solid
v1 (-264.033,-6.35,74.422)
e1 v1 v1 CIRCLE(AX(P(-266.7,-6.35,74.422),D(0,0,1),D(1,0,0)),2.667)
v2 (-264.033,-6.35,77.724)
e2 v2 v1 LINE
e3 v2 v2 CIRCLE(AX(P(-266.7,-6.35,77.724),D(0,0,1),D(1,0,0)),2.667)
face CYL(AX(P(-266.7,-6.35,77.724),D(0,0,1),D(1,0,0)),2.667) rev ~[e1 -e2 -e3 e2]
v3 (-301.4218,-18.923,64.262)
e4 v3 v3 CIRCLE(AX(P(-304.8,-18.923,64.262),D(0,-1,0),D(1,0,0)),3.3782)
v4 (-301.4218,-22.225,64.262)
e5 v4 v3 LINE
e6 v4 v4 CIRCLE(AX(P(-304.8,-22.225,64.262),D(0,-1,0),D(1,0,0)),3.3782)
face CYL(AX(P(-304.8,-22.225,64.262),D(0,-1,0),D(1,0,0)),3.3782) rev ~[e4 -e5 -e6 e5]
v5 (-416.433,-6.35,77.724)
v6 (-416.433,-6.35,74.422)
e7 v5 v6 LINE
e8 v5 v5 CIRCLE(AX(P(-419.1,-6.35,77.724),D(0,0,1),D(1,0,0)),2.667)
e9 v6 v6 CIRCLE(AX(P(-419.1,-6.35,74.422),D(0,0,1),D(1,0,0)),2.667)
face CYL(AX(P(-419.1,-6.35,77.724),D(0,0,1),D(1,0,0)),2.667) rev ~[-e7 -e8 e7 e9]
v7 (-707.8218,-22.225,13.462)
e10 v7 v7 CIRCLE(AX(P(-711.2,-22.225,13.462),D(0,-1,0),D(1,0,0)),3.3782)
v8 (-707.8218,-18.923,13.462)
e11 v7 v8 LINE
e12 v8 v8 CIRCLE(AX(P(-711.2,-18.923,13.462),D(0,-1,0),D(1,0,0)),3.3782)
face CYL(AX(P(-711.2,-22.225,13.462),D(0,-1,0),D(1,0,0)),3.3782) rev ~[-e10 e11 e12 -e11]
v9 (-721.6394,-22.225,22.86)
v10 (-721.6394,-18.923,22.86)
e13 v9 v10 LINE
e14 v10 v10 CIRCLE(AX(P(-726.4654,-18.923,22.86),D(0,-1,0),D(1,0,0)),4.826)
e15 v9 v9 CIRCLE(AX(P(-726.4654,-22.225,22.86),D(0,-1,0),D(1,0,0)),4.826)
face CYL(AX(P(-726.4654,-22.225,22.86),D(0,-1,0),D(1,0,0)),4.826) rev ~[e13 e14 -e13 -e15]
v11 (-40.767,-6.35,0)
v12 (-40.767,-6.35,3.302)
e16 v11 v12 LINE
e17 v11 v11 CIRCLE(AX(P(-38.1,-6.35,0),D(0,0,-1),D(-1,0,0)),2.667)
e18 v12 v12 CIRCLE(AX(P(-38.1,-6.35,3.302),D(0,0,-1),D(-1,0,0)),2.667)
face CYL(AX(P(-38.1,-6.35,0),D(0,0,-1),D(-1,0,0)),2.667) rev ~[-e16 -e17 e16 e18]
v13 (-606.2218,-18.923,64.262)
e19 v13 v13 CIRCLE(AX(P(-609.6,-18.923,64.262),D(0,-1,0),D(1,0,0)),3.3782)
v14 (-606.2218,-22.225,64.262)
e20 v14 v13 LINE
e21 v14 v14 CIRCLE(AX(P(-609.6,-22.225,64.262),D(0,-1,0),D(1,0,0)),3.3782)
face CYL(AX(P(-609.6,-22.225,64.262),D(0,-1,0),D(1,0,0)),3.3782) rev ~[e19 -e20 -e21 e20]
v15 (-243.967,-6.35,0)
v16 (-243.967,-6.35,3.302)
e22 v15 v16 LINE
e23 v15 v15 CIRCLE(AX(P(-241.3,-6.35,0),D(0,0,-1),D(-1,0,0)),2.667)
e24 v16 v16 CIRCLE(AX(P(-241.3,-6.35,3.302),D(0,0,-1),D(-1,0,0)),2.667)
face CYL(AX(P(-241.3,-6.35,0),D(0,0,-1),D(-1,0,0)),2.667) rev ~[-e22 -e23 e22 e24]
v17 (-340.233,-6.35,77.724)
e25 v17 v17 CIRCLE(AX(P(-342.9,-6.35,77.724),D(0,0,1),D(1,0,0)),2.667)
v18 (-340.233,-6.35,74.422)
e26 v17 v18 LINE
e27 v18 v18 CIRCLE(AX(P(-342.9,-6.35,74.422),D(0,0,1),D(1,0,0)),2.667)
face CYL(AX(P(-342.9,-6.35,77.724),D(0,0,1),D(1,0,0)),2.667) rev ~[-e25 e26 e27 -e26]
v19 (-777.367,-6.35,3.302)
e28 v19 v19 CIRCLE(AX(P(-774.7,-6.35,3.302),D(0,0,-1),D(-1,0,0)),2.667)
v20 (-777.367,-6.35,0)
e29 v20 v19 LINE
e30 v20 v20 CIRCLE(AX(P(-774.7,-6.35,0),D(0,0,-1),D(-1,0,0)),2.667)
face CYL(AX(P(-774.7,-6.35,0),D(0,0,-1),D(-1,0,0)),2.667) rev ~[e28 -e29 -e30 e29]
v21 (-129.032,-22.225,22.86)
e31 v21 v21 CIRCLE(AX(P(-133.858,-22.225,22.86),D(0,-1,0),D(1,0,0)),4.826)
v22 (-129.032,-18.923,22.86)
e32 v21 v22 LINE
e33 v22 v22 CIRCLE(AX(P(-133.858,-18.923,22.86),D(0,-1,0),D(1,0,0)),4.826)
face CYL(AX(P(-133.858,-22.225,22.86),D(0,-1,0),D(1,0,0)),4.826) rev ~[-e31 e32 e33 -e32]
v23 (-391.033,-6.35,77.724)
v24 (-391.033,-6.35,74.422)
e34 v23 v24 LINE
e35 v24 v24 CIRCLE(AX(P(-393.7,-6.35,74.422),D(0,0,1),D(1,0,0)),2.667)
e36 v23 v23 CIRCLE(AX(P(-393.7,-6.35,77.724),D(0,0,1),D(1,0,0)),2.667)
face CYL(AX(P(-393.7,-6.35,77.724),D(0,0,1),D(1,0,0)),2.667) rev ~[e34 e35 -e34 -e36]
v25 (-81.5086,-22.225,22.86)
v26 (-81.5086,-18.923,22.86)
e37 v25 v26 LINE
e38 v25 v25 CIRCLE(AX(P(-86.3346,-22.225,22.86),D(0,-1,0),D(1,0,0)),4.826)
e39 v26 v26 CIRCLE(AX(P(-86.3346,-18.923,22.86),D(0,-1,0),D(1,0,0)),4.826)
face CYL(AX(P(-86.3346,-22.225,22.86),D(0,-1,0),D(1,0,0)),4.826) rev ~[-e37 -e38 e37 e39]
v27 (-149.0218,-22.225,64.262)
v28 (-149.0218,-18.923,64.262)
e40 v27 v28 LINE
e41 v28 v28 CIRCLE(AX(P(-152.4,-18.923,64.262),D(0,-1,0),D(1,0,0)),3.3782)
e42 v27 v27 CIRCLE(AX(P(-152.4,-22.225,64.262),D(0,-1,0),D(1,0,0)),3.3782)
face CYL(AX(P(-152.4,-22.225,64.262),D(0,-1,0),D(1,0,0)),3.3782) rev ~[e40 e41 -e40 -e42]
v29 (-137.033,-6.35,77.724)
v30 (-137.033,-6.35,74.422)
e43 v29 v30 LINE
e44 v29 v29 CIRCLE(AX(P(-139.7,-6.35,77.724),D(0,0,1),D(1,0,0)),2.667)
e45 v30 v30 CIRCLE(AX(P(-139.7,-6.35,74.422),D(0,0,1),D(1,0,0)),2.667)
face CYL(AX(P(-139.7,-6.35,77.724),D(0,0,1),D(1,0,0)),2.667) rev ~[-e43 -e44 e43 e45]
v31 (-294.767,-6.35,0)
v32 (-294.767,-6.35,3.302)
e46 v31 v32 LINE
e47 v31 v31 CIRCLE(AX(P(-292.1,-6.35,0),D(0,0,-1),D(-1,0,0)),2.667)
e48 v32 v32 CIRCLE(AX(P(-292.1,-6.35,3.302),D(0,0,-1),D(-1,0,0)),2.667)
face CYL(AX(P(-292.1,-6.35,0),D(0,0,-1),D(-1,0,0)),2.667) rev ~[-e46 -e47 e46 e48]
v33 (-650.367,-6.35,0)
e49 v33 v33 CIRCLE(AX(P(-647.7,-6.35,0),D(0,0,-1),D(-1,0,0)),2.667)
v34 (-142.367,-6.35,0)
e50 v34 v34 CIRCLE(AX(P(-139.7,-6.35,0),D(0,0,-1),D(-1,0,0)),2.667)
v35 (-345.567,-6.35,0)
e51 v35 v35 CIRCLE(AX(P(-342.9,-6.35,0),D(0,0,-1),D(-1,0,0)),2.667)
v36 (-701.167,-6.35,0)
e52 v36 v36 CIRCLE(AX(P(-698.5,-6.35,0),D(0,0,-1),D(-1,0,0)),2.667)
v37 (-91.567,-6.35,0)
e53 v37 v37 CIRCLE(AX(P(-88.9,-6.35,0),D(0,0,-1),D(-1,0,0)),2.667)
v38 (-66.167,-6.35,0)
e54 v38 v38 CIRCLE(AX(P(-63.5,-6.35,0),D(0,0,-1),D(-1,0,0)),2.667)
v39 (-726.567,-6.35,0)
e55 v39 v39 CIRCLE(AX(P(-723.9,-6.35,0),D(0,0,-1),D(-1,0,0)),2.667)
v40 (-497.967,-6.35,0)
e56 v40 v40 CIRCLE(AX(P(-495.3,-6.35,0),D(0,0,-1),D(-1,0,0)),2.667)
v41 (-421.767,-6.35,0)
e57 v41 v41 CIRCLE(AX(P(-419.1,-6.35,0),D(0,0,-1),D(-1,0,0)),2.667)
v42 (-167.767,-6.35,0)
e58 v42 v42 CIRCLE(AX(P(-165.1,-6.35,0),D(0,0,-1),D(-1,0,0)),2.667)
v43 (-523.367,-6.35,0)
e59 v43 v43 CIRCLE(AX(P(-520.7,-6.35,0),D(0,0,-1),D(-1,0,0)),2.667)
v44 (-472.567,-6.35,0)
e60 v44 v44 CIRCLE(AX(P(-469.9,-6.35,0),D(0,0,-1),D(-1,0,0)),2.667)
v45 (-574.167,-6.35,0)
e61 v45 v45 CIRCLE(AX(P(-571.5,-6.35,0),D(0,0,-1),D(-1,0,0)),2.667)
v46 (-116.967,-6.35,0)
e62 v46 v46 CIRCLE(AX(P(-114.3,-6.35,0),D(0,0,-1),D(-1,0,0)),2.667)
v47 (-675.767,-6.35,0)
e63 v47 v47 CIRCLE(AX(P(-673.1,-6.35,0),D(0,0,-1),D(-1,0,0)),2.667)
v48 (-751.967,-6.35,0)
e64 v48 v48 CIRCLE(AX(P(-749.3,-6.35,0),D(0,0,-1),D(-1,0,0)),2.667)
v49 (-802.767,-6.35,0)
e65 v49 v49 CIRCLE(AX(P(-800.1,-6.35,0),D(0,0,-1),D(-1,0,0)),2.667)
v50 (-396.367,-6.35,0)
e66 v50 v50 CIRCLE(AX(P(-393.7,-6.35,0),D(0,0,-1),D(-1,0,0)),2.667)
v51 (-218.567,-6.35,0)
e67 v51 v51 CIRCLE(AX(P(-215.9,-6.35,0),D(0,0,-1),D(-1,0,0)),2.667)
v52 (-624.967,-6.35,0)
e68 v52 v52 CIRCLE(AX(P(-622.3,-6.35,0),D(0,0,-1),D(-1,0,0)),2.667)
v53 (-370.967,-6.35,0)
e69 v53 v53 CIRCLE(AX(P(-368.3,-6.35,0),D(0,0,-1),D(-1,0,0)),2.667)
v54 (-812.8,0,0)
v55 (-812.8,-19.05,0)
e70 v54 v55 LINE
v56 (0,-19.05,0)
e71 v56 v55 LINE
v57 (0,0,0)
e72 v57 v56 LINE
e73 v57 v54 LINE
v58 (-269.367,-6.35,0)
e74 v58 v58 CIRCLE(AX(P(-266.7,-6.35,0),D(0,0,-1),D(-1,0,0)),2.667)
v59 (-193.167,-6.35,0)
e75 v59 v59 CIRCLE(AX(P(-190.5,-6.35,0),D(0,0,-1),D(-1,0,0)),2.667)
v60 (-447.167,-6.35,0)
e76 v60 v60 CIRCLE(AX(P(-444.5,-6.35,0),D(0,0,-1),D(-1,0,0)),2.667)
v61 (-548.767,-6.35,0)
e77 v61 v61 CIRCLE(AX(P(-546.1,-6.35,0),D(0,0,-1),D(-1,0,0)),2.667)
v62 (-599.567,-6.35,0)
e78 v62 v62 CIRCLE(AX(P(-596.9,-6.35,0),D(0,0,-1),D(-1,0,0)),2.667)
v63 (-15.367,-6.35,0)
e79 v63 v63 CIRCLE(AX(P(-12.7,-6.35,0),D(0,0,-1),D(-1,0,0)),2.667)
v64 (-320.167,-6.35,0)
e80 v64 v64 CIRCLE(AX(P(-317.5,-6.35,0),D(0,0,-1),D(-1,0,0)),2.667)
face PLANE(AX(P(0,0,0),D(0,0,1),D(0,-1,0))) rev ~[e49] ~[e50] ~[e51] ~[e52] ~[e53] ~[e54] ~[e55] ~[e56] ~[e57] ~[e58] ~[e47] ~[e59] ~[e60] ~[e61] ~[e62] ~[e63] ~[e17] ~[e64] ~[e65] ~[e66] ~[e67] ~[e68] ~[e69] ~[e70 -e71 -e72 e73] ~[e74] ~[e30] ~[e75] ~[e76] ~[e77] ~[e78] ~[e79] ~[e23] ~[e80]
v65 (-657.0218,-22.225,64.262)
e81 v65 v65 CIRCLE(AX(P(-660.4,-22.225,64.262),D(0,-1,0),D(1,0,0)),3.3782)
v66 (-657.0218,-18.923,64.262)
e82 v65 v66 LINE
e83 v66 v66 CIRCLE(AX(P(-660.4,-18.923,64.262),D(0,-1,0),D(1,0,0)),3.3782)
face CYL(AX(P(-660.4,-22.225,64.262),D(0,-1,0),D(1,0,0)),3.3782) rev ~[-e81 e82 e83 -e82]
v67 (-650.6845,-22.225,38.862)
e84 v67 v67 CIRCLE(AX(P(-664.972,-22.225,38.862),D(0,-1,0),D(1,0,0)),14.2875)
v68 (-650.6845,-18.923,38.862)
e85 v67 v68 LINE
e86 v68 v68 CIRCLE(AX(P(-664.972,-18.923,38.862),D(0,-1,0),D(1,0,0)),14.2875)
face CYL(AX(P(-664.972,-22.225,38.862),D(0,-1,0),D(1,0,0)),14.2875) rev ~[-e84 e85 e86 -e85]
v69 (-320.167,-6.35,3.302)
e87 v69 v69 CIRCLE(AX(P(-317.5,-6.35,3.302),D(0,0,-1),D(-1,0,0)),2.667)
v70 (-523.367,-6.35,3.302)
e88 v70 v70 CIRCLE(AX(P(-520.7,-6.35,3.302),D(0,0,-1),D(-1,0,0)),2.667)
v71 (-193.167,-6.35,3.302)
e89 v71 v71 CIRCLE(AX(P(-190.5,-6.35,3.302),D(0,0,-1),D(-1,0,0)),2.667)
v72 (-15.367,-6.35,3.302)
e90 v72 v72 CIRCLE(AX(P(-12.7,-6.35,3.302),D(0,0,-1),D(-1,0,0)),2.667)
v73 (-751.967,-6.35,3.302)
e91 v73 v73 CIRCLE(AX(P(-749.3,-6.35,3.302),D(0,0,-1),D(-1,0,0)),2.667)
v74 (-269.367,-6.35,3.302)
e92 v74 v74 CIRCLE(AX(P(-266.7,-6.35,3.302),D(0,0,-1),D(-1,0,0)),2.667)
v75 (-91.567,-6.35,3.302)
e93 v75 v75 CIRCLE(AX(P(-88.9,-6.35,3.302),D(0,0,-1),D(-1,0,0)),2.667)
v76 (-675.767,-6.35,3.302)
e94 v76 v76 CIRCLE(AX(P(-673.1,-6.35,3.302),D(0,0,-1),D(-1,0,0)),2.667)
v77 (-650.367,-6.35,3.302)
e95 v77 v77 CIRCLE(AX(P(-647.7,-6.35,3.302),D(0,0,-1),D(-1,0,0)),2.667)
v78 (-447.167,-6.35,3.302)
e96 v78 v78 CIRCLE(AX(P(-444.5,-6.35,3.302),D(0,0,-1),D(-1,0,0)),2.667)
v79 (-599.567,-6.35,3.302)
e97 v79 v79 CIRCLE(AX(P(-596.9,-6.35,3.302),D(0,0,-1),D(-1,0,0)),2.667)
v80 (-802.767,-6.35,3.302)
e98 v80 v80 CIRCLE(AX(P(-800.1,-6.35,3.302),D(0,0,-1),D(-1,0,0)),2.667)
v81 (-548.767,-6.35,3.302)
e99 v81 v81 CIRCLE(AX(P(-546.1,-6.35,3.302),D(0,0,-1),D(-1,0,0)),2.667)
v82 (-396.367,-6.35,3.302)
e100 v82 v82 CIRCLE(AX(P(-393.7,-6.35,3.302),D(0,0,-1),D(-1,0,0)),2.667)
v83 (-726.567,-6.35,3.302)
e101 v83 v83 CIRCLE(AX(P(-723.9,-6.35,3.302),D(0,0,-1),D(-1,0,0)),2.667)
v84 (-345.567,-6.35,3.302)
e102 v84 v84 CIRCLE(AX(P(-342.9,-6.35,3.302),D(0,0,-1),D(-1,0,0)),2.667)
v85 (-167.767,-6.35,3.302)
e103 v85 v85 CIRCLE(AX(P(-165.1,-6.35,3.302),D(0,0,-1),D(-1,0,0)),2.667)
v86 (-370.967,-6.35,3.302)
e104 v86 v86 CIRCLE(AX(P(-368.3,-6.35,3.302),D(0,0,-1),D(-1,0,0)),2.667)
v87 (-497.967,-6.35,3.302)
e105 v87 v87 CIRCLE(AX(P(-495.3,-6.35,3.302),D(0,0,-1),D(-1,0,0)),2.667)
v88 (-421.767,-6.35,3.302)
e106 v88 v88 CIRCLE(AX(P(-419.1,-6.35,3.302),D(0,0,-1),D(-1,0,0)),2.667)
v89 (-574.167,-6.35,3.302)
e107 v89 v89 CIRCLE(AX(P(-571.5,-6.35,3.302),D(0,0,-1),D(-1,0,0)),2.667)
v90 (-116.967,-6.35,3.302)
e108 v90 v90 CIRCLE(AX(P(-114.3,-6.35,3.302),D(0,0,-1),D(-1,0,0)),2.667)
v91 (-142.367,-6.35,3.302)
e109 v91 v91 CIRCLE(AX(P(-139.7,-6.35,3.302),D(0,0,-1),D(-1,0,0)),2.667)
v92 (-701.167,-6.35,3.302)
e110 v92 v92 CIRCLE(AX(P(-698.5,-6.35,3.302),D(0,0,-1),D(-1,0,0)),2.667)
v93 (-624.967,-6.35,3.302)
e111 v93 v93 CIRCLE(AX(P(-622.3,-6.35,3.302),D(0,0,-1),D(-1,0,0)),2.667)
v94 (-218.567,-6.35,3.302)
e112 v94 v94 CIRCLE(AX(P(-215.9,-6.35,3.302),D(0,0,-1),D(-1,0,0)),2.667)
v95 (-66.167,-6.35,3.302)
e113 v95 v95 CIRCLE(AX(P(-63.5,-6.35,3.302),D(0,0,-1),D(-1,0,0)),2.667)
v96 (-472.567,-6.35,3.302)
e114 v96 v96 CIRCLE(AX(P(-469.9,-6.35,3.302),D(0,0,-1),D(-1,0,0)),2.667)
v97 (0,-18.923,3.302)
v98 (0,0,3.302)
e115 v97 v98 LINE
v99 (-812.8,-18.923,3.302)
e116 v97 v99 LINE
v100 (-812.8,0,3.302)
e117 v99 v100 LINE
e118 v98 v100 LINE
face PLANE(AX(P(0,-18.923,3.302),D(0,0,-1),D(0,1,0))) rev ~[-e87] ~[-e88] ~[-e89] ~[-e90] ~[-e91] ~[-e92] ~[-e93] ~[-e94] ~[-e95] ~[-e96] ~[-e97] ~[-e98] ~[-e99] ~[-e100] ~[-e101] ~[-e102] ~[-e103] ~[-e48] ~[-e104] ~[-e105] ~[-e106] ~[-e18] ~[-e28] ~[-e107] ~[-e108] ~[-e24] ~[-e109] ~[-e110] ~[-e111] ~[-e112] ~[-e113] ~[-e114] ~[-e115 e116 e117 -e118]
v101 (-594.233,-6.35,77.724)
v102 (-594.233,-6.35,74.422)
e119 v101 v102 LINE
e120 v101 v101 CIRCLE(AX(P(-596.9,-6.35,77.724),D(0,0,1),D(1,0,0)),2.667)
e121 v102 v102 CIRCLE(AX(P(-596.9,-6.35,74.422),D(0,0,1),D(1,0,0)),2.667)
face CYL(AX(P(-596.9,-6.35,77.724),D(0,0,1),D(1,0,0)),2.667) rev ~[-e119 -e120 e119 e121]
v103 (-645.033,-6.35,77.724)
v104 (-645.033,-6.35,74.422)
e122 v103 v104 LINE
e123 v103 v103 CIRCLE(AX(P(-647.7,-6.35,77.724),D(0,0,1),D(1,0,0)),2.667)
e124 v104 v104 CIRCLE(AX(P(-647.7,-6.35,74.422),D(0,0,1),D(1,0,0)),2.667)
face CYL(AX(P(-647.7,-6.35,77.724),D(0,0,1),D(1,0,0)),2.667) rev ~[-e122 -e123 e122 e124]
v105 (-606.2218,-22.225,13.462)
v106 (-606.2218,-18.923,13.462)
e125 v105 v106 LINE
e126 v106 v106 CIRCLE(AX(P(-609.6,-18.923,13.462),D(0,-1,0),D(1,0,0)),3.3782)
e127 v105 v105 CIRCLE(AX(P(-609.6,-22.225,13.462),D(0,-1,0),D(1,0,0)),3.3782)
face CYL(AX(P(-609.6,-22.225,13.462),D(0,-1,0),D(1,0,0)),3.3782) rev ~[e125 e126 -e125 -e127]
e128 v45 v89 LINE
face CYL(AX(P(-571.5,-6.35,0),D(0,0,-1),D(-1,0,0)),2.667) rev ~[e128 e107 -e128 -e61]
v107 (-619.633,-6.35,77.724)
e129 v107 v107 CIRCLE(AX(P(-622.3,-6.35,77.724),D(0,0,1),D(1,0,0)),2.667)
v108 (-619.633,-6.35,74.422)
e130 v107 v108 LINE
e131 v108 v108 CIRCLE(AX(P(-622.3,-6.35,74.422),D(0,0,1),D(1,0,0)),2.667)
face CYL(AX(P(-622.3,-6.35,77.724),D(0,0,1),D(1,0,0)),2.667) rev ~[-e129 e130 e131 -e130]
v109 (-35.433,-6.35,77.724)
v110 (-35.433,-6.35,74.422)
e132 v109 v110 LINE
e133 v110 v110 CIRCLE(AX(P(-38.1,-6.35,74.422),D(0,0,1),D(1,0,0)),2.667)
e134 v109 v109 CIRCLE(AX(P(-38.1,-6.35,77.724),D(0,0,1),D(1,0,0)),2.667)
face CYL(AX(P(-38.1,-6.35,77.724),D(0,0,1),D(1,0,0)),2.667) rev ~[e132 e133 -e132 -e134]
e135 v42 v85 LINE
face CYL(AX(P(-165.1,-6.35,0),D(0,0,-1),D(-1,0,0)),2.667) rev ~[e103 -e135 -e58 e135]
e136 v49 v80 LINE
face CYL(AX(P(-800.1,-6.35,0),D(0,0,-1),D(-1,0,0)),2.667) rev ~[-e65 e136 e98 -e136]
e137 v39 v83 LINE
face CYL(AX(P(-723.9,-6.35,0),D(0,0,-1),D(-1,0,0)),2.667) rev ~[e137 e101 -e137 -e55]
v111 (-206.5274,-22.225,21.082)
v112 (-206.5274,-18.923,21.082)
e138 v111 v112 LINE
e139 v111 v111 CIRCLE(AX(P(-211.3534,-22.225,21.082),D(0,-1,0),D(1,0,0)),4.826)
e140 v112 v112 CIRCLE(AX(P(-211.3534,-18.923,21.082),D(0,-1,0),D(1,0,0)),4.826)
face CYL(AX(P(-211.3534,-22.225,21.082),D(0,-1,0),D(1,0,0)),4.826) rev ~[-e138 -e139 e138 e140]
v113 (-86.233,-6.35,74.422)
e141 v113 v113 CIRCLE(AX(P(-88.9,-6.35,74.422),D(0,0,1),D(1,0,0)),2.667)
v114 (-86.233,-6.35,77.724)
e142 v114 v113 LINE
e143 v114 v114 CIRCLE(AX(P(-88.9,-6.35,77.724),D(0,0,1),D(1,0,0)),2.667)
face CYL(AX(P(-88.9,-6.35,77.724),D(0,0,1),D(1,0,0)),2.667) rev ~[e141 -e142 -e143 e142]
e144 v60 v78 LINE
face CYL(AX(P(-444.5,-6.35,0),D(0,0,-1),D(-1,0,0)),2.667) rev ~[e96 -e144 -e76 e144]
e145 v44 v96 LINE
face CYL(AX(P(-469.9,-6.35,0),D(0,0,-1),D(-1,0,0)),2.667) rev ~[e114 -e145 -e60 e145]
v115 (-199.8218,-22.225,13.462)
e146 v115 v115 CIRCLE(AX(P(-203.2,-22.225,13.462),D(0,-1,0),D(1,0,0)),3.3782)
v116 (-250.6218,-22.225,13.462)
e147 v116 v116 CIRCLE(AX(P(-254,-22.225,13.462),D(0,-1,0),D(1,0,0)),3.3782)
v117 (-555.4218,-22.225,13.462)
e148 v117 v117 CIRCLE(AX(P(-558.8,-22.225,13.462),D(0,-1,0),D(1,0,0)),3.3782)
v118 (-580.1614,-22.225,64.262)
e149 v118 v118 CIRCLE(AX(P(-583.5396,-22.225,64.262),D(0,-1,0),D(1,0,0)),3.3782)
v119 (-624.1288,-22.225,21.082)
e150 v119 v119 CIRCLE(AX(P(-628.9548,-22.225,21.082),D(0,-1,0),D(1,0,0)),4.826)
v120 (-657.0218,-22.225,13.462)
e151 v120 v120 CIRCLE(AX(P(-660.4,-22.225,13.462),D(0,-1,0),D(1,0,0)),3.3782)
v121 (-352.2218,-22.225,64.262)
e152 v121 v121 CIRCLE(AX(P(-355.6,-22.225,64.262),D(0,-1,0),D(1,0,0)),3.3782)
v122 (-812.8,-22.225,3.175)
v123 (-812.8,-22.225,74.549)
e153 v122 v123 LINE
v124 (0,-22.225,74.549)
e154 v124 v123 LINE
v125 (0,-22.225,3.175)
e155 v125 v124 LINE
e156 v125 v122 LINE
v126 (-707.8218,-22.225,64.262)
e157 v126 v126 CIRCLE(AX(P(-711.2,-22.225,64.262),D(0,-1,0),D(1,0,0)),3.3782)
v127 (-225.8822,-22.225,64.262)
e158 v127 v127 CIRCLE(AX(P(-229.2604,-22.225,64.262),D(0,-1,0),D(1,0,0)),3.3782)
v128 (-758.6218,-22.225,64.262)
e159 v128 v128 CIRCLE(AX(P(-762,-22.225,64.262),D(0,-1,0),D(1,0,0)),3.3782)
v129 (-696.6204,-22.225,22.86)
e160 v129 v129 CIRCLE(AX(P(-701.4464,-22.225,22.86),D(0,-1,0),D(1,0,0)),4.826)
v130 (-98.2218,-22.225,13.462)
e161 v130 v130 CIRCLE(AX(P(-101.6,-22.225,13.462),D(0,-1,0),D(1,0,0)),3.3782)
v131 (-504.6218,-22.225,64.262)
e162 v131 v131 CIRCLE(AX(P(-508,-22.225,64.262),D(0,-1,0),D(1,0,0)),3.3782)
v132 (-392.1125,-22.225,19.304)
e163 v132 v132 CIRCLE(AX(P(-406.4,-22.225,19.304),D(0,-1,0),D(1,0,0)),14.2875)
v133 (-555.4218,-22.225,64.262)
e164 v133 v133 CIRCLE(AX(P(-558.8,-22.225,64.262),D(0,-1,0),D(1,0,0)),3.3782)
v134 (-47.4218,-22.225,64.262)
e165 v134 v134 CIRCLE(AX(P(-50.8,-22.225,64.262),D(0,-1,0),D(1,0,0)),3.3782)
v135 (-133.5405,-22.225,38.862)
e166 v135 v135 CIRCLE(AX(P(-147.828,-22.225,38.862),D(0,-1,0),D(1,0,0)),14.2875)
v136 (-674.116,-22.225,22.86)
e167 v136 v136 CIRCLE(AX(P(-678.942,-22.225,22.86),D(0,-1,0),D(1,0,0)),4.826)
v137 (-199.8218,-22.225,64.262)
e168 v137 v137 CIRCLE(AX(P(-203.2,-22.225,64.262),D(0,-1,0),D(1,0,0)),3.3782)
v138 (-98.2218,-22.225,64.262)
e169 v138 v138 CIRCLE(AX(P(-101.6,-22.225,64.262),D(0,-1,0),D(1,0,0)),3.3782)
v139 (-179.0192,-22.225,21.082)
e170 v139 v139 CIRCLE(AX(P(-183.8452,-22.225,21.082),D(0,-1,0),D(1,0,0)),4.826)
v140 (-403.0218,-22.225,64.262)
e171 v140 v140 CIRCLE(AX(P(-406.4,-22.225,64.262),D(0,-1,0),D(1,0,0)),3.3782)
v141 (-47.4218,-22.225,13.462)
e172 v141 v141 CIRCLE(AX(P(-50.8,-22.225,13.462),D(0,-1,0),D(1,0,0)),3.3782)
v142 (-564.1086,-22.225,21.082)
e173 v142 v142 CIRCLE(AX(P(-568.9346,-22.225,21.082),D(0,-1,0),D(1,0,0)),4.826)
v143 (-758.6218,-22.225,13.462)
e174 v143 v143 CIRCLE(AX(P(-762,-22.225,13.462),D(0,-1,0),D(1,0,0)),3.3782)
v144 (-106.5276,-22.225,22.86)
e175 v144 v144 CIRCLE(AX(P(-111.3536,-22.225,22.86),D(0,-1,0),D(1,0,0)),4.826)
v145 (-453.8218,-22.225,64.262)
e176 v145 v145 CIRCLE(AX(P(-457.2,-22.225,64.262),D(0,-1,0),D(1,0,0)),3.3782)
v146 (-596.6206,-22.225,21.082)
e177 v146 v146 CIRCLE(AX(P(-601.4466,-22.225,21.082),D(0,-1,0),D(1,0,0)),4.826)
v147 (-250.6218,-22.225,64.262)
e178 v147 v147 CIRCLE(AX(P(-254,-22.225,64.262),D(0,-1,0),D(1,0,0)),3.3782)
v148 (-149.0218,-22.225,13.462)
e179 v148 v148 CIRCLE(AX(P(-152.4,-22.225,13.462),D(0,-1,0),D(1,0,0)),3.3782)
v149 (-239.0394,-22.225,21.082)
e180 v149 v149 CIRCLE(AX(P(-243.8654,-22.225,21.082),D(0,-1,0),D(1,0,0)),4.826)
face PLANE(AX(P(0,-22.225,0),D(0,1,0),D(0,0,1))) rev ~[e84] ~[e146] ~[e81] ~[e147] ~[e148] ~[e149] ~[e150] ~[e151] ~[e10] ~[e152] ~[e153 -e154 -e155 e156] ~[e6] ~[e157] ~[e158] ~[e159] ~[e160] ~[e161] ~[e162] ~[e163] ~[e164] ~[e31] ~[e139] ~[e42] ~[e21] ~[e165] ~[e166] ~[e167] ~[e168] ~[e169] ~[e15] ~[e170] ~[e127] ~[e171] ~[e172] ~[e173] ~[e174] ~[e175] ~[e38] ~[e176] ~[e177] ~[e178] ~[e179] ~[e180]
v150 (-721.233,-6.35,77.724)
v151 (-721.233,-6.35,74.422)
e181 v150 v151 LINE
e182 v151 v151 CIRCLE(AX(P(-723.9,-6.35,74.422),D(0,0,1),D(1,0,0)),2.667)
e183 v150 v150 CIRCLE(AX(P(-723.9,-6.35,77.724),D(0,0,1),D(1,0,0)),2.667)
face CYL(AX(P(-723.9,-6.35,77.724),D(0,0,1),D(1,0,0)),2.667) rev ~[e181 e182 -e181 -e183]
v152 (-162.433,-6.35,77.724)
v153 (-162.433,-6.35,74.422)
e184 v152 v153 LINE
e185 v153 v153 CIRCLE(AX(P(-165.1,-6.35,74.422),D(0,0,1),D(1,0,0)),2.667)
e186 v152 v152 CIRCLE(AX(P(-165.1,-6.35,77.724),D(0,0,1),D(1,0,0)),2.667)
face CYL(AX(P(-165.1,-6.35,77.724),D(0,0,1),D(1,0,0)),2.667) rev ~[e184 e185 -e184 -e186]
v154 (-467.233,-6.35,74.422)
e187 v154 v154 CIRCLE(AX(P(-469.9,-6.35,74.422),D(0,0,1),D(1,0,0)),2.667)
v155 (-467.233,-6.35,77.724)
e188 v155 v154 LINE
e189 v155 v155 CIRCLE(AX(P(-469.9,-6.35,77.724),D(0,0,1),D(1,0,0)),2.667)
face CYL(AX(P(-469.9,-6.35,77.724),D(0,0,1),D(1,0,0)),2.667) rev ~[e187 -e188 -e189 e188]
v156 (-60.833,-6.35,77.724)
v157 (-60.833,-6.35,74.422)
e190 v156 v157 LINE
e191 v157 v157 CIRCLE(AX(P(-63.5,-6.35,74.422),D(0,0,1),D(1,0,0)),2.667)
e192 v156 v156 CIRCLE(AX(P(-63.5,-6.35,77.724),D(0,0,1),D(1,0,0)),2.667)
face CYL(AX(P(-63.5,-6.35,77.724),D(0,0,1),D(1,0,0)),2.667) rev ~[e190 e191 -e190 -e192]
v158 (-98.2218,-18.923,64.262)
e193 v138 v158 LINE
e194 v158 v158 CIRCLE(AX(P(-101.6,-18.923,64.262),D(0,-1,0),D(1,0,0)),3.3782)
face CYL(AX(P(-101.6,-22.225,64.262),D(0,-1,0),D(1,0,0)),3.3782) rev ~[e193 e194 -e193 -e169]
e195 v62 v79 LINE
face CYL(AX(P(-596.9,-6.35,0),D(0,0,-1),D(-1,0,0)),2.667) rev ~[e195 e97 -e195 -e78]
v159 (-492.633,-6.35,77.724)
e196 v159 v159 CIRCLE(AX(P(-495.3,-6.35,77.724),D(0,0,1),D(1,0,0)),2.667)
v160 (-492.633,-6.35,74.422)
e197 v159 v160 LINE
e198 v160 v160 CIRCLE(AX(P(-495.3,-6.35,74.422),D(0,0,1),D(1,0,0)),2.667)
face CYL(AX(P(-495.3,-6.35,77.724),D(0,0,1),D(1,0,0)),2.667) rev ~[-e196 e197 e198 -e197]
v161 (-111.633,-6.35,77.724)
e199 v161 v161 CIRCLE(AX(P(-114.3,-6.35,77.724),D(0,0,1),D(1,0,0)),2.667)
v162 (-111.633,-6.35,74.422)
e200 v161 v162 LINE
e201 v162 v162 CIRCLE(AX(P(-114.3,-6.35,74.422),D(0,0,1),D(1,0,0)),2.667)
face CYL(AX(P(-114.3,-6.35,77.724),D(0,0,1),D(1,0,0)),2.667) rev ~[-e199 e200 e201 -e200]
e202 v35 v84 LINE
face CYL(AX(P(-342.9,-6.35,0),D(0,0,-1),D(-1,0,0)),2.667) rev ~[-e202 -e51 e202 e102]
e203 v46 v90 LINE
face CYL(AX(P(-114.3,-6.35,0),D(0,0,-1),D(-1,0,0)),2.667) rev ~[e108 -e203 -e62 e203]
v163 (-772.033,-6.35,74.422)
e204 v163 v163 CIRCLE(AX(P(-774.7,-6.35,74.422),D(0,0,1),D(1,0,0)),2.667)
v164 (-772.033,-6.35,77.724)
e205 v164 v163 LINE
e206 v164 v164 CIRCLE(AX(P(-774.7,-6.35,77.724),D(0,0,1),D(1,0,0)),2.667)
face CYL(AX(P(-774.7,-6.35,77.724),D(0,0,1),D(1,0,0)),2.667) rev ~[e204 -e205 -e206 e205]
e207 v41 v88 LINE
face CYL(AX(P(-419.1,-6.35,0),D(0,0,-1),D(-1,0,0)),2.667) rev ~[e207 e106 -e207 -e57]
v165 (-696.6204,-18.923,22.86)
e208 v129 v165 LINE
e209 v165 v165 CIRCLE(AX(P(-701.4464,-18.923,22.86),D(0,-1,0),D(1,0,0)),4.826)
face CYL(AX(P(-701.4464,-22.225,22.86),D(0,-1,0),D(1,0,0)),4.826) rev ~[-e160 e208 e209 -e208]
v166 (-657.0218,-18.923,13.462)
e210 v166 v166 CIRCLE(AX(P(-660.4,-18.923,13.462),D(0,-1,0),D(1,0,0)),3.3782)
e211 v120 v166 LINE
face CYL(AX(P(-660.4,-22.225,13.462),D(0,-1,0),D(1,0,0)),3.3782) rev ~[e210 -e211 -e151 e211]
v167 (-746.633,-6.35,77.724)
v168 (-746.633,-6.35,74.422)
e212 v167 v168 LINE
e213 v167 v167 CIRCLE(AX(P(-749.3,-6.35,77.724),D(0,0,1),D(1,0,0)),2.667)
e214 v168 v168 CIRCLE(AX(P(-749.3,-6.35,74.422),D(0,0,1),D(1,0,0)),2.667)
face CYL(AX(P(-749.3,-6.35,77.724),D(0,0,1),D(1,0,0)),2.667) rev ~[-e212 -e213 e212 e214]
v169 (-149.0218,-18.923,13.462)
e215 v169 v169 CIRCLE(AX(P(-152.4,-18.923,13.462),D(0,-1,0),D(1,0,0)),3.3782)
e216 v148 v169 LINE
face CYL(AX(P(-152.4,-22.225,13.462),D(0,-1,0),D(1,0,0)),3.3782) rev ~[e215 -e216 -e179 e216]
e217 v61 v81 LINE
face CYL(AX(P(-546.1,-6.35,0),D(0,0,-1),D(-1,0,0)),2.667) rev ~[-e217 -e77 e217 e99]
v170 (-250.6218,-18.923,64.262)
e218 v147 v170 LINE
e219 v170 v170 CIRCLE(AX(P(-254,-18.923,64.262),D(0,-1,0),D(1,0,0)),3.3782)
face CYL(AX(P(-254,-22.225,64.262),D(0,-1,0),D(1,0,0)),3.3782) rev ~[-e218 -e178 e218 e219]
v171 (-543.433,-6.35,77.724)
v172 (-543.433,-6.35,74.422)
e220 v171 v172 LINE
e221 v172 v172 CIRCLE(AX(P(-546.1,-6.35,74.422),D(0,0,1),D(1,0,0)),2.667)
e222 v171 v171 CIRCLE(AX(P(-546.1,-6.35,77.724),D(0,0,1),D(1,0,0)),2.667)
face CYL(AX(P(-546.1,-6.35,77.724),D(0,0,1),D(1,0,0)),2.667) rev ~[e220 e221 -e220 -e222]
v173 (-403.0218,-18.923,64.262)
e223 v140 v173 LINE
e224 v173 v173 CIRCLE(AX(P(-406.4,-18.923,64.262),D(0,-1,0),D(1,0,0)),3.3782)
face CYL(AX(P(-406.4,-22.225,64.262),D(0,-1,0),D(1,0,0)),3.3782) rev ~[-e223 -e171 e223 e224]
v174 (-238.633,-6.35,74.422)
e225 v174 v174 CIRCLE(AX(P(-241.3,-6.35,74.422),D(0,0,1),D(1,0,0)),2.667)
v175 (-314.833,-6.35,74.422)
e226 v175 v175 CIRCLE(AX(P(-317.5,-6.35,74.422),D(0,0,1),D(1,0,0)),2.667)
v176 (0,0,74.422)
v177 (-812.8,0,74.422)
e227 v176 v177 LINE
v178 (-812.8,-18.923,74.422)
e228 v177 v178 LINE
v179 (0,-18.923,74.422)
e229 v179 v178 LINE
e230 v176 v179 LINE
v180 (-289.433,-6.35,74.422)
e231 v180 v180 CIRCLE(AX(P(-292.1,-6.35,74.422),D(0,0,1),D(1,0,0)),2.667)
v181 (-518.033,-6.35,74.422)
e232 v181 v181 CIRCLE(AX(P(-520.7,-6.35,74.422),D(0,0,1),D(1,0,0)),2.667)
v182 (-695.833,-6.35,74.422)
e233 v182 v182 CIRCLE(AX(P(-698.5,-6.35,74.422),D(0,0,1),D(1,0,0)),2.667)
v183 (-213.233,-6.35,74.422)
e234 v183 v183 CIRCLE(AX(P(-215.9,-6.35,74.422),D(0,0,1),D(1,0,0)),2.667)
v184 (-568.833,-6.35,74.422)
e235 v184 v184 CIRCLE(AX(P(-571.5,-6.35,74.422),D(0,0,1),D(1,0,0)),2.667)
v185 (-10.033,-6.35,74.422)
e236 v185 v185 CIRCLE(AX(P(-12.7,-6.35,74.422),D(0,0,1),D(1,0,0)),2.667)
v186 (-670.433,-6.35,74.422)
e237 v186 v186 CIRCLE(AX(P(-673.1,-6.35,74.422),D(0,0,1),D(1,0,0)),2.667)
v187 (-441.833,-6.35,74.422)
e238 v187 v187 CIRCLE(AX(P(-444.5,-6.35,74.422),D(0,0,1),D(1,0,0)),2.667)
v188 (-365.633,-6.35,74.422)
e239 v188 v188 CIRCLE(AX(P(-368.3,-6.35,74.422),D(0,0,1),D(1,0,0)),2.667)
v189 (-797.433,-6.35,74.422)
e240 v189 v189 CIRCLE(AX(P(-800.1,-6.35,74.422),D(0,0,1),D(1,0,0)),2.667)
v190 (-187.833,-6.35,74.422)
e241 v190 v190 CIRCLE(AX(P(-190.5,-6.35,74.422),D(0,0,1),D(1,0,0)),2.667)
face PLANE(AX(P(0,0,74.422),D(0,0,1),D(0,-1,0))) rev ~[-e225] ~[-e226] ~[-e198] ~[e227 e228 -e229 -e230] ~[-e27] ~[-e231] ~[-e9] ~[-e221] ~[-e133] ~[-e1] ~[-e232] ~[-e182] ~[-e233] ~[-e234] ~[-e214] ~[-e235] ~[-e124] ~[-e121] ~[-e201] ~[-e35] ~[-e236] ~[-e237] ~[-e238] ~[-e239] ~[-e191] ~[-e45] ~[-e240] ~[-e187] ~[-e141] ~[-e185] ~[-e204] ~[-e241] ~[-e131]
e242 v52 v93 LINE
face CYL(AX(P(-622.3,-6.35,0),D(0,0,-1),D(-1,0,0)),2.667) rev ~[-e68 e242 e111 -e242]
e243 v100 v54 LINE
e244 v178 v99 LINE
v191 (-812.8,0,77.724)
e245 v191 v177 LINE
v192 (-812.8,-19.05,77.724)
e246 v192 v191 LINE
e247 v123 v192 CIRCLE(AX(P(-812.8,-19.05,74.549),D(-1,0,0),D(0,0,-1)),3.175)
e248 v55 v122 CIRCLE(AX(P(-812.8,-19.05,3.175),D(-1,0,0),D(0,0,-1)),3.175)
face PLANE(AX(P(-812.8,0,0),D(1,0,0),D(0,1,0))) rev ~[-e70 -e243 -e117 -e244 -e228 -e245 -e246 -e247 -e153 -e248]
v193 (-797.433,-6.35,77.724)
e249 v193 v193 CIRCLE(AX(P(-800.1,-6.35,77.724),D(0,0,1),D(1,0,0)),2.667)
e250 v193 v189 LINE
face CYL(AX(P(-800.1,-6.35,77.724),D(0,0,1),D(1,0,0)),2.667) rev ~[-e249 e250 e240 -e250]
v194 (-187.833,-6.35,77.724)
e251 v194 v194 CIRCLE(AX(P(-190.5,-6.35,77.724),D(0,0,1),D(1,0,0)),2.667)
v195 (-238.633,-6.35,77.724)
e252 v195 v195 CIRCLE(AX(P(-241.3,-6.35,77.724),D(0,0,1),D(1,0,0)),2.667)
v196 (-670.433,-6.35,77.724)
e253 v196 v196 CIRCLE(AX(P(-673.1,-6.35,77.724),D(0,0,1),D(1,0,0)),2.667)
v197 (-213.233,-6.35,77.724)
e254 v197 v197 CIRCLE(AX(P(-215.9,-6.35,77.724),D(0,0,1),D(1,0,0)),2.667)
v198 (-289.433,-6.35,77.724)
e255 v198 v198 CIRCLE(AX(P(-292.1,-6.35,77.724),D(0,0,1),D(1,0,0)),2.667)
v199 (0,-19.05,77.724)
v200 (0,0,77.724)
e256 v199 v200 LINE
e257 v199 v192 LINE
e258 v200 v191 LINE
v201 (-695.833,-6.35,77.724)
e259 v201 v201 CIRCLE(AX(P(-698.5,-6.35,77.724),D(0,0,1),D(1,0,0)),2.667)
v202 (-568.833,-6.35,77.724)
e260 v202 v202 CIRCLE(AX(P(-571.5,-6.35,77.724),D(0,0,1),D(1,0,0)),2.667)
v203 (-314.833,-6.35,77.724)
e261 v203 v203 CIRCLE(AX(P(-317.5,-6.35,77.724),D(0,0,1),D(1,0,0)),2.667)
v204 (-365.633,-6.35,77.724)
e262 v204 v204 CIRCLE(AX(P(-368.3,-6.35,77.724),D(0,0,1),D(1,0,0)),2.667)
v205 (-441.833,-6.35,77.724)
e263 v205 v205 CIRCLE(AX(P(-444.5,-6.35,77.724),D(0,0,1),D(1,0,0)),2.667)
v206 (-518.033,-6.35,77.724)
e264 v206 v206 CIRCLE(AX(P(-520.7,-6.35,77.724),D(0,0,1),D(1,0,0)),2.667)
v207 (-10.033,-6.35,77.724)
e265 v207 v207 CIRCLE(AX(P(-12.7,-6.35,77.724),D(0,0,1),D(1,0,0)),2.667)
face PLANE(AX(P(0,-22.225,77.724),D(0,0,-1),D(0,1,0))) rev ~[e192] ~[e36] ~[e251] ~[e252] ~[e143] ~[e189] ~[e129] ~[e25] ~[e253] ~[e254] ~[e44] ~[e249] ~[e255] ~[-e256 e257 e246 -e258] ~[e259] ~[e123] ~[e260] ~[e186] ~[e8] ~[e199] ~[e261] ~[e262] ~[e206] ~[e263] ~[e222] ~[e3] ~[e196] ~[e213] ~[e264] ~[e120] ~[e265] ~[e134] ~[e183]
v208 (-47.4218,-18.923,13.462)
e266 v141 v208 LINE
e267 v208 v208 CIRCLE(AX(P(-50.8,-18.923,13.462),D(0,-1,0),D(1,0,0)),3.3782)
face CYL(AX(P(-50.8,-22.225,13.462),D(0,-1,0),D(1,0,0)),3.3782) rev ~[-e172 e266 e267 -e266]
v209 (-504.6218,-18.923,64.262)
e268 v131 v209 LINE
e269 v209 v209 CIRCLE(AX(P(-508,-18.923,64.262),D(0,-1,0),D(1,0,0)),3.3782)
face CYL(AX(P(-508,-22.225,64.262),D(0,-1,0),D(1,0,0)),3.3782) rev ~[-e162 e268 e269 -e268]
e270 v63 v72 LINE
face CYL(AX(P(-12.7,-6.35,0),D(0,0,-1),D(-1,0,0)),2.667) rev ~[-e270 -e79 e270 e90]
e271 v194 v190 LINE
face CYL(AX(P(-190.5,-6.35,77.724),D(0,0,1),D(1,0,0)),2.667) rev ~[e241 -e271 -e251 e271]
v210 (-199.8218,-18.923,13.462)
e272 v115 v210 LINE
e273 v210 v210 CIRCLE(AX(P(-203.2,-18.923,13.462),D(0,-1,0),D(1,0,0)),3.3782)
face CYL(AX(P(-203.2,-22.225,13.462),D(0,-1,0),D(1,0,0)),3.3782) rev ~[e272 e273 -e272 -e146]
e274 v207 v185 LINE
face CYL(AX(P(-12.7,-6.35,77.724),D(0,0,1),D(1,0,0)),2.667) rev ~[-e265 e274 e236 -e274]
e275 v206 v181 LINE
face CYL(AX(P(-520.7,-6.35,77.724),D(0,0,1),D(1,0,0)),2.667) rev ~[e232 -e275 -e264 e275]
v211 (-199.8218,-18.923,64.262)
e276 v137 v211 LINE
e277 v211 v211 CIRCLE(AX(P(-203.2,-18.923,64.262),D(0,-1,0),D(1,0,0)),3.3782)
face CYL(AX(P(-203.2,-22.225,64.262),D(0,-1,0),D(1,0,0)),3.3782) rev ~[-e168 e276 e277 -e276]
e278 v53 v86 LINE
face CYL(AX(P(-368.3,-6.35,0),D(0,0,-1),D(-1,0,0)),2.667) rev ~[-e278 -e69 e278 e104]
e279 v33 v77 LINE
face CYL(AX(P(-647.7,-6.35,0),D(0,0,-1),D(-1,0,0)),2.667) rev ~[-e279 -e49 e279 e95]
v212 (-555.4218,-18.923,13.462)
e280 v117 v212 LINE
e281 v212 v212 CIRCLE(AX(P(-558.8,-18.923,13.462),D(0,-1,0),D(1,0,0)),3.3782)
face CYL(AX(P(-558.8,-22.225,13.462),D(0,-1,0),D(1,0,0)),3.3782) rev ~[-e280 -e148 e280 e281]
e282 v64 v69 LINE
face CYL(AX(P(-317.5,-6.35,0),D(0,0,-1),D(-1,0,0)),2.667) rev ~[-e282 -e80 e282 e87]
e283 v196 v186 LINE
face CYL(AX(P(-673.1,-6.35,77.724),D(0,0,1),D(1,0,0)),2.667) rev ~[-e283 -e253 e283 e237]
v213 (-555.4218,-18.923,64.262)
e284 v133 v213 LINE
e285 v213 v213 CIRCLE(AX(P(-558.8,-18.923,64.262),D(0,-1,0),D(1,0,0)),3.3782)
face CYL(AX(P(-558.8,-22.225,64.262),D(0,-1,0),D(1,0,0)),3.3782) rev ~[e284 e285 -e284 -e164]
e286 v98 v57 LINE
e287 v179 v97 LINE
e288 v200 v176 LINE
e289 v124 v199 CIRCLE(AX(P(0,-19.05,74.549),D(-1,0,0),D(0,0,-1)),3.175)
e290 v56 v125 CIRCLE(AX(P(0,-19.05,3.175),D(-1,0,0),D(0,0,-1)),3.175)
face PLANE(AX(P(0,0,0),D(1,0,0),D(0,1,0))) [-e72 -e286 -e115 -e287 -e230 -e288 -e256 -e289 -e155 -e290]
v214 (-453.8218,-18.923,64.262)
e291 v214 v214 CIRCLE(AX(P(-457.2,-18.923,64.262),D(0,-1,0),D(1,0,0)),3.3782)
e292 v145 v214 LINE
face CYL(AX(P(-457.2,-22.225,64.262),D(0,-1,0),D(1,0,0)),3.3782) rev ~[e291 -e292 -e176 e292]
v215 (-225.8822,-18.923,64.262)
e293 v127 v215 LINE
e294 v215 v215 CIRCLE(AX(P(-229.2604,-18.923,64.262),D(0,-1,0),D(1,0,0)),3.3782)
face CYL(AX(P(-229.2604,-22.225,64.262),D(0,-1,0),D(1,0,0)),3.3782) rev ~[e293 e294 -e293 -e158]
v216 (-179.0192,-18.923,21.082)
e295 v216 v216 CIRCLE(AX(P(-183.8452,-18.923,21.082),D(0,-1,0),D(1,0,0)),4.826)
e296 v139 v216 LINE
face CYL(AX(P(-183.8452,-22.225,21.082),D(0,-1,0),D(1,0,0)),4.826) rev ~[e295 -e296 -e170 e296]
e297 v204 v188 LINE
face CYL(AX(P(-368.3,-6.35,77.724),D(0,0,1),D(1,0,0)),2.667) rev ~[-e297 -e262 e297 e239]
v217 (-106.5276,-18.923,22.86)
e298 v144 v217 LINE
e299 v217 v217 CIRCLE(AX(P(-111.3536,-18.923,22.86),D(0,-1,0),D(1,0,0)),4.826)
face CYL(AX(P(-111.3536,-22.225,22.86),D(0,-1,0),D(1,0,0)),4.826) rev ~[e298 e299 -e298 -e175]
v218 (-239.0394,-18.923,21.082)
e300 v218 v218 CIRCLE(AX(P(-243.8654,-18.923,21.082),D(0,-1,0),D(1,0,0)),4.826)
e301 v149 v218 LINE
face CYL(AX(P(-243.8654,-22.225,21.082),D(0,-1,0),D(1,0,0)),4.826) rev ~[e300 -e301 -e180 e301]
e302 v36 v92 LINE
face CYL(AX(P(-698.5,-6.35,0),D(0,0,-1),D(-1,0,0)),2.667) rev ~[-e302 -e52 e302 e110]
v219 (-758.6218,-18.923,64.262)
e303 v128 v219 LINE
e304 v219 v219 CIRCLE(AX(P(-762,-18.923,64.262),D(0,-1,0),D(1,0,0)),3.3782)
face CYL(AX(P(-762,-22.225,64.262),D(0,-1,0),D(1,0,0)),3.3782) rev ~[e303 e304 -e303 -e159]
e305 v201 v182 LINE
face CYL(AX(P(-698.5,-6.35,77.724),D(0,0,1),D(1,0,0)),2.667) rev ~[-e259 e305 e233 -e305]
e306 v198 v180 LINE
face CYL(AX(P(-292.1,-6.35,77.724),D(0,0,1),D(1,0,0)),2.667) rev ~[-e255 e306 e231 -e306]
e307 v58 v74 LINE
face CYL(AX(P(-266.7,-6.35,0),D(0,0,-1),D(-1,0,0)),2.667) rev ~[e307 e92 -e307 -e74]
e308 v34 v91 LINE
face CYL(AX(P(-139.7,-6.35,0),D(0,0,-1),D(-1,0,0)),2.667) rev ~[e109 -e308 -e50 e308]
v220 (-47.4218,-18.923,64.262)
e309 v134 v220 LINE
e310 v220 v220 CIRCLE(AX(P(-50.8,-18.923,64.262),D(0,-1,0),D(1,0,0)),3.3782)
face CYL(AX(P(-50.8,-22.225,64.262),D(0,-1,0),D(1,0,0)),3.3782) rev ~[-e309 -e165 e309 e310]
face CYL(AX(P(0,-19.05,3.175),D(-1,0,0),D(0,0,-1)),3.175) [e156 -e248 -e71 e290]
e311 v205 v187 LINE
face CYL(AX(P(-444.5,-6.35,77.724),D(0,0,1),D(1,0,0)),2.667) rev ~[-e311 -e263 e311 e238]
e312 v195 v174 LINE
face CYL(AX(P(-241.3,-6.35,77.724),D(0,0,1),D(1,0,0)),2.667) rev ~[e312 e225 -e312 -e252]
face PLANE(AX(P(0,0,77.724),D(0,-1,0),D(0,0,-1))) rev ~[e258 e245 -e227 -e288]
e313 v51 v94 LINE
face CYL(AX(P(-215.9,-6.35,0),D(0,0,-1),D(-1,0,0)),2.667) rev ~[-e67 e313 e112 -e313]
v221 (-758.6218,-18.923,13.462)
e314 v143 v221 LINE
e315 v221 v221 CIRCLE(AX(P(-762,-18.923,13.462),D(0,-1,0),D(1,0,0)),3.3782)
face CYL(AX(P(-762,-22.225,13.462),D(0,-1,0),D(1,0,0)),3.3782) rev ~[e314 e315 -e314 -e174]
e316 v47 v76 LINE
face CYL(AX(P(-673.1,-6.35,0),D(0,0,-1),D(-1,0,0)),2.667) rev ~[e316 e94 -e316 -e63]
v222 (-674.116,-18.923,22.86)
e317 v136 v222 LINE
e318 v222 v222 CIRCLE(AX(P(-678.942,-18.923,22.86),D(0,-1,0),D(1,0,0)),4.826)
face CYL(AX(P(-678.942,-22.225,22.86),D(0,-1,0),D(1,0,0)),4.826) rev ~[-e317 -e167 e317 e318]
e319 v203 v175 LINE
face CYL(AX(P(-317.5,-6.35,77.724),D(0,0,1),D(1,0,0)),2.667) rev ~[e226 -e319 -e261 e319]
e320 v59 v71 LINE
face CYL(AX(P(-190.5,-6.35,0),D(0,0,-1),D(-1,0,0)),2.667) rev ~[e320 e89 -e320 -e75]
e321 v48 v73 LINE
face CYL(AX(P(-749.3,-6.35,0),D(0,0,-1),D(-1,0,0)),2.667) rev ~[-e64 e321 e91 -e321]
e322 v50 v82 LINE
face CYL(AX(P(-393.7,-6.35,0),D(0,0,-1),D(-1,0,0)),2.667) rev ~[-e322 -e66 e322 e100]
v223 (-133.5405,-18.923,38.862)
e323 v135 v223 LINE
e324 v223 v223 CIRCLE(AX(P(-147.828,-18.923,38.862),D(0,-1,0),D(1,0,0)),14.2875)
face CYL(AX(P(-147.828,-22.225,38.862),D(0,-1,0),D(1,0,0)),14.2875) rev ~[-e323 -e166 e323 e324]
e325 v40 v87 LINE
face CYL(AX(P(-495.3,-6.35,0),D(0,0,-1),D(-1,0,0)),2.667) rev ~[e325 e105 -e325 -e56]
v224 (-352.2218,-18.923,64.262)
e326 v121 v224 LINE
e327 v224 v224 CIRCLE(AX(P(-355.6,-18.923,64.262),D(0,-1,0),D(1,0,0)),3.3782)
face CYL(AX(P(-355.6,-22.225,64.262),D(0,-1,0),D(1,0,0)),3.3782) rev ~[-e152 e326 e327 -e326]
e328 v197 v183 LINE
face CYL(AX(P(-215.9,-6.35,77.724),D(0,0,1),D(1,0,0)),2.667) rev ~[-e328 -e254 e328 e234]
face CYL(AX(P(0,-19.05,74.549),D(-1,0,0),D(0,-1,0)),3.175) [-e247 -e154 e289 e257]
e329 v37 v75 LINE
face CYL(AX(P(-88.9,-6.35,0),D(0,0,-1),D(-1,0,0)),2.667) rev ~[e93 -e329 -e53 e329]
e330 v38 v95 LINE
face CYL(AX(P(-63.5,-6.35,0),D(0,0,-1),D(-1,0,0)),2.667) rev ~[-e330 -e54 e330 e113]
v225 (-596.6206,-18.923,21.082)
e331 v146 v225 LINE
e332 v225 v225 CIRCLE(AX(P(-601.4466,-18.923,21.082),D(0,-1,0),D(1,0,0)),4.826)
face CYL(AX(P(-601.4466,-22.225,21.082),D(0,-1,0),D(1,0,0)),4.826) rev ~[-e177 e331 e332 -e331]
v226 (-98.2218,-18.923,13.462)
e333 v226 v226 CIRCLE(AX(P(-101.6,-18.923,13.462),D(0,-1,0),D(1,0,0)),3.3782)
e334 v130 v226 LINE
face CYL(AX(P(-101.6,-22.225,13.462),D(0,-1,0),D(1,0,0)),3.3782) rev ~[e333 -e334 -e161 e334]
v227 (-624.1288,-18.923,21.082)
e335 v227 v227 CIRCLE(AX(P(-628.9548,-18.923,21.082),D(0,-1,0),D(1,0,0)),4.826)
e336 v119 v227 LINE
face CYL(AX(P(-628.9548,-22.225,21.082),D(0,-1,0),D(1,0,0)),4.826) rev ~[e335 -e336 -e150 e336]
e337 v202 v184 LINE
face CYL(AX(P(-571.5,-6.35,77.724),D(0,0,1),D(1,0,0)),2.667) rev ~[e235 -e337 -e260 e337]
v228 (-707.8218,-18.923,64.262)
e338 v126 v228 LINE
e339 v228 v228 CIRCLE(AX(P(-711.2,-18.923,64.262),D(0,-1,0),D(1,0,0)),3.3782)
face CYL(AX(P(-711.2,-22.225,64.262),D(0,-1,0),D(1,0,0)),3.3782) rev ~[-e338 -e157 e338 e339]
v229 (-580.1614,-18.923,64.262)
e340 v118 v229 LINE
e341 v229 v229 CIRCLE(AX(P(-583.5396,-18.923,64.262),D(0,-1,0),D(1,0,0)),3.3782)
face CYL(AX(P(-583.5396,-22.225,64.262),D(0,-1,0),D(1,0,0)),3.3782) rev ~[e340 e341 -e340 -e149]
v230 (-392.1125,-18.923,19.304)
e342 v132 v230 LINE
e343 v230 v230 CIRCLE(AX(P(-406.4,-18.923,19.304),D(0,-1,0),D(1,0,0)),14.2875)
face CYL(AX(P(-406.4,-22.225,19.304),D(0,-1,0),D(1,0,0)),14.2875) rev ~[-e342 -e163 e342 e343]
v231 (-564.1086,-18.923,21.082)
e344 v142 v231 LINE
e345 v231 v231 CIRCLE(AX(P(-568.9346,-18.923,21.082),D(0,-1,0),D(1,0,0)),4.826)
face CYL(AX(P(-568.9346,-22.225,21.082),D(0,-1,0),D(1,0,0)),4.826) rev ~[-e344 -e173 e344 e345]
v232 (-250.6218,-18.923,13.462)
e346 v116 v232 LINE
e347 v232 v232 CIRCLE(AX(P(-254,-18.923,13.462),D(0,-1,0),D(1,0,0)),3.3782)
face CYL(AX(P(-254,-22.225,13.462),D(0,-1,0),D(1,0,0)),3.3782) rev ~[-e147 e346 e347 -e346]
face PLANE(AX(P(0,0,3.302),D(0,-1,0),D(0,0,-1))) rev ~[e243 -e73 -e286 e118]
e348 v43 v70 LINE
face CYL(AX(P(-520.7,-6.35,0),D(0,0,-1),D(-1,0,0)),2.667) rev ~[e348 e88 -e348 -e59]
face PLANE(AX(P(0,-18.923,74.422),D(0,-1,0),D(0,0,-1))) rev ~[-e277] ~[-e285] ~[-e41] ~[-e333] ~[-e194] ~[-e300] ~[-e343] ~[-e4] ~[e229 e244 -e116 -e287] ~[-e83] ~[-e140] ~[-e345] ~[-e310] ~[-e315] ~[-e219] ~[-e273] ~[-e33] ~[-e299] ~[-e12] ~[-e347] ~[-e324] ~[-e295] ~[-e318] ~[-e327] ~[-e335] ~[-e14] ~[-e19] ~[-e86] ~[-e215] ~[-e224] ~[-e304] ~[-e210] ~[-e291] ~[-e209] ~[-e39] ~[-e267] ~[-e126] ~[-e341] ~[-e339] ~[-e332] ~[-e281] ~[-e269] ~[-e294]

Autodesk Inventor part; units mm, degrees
ref_plane "YZ Plane" through (0, 0, 0) normal (1, 0, 0) x (0, 1, 0)
ref_plane "XZ Plane" through (0, 0, 0) normal (0, 1, 0) x (-1, 0, 0)
ref_plane "XY Plane" through (0, 0, 0) normal (0, 0, 1) x (1, 0, 0)
sketch "Sketch1" plane through (0, 0, 0) normal (1, 0, 0) x (0, 1, 0)
  line L0 (0, 0) -> (-22.225, 0)
  line L1 (-22.225, 0) -> (-22.225, 77.724)
  line L2 (-22.225, 77.724) -> (0, 77.724)
  line L3 (0, 77.724) -> (0, 74.422)
  line L4 (0, 74.422) -> (-18.923, 74.422)
  line L5 (-18.923, 74.422) -> (-18.923, 3.302)
  line L6 (-18.923, 3.302) -> (0, 3.302)
  line L7 (0, 3.302) -> (0, 0)
  dimension "d0" = 22.225
  dimension "d1" = 77.724
  dimension "d2" = 3.302
  dimension "d3" = 18.923
  dimension "d4" = 71.12
extrude "Extrusion1" add sketch "Sketch1" against normal blind 812.8
fillet "Fillet1" radius 3.175 1 edges at (-406.4, -22.225, 0)
fillet "Fillet2" radius 3.175 1 edges at (-406.4, -22.225, 77.724)
sketch "Sketch2" plane through (0, 0, 0) normal (0, 0, -1) x (-1, 0, 0)
  circle A0 centre (12.7, -6.35) radius 2.667
  point P0 (0, 0)
  dimension "d11" = 5.334
extrude "Extrusion2" cut sketch "Sketch2" against normal blind 3.302
pattern_linear "Rectangular Pattern1" count 32 spacing 25.4 along (-1, 0, 0) of "Extrusion2"
sketch "Sketch3" plane through (-812.8, 0, 77.724) normal (0, 0, 1) x (1, 0, 0)
  line L0 (812.8, -18.923) -> (812.8, 0) projected
  circle A0 centre (800.1, -6.35) radius 2.667
  dimension "d19" = 5.334
extrude "Extrusion3" cut sketch "Sketch3" against normal blind 3.302
pattern_linear "Rectangular Pattern2" count 32 spacing 25.4 along (-1, 0, 0) of "Extrusion3"
sketch "Sketch4" plane through (-812.8, -22.225, 3.175) normal (0, -1, 0) x (1, 0, 0)
  line L0 (812.8, 71.374) -> (812.8, 0) projected
  line L1 (812.8, 74.549) -> (0, 74.549) projected
  circle A0 centre (406.4, 16.129) radius 14.2875
  line L2 (0, 71.374) -> (812.8, 71.374) projected
  line L3 (0, 0) -> (0, 71.374) projected
  point P0 (812.8, -3.175)
  dimension "d28" = 28.575
  dimension "d29" = 55.245
  dimension "d30" = 406.4
extrude "Extrusion4" cut sketch "Sketch4" against normal blind 3.302
sketch "Sketch5" plane through (-812.8, -22.225, 3.175) normal (0, -1, 0) x (1, 0, 0)
  circle A0 centre (147.828, 35.687) radius 14.2875
  line L0 (0, 71.374) -> (812.8, 71.374) projected
  line L1 (0, 0) -> (0, 71.374) projected
  point P0 (812.8, -3.175)
  dimension "d33" = 28.575
  dimension "d34" = 35.687
  dimension "d35" = 147.828
extrude "Extrusion5" cut sketch "Sketch5" against normal blind 3.302
sketch "Sketch6" plane through (-812.8, -22.225, 3.175) normal (0, -1, 0) x (1, 0, 0)
  circle A0 centre (664.972, 35.687) radius 14.2875
  line L0 (0, 71.374) -> (812.8, 71.374) projected
  line L1 (812.8, 71.374) -> (812.8, 0) projected
  point P0 (812.8, -3.175)
  dimension "d38" = 28.575
  dimension "d39" = 35.687
  dimension "d40" = 147.828
extrude "Extrusion6" cut sketch "Sketch6" against normal blind 3.302
sketch "Sketch7" plane through (-812.8, -22.225, 3.175) normal (0, -1, 0) x (1, 0, 0)
  circle A0 centre (50.8, 61.087) radius 3.3782
  line L0 (0, 71.374) -> (812.8, 71.374) projected
  line L1 (0, 0) -> (0, 71.374) projected
  point P0 (812.8, -3.175)
  dimension "d43" = 6.7564
  dimension "d44" = 10.287
  dimension "d45" = 50.8
extrude "Extrusion7" cut sketch "Sketch7" against normal blind 3.302
pattern_linear "Rectangular Pattern3" count 15 spacing 50.8 along (1, 0, 0) of "Extrusion7"
sketch "Sketch8" plane through (-812.8, -22.225, 3.175) normal (0, -1, 0) x (1, 0, 0)
  circle A0 centre (50.8, 10.287) radius 3.3782
  line L0 (0, 0) -> (0, 71.374) projected
  line L1 (812.8, 0) -> (0, 0) projected
  point P0 (812.8, -3.175)
  dimension "d51" = 6.7564
  dimension "d52" = 50.8
  dimension "d53" = 10.287
extrude "Extrusion8" cut sketch "Sketch8" against normal blind 3.302
pattern_linear "Rectangular Pattern4" count 5 spacing 50.8 along (1, 0, 0) of "Extrusion8"
sketch "Sketch9" plane through (-812.8, -22.225, 3.175) normal (0, -1, 0) x (1, 0, 0)
  circle A0 centre (762, 10.287) radius 3.3782
  line L0 (812.8, 71.374) -> (812.8, 0) projected
  line L1 (812.8, 0) -> (0, 0) projected
  point P0 (812.8, -3.175)
  dimension "d59" = 6.7564
  dimension "d60" = 50.8
  dimension "d61" = 10.287
extrude "Extrusion9" cut sketch "Sketch9" against normal blind 3.302
pattern_linear "Rectangular Pattern5" count 5 spacing 50.8 along (-1, 0, 0) of "Extrusion9"
sketch "Sketch10" plane through (-812.8, -22.225, 3.175) normal (0, -1, 0) x (1, 0, 0)
  circle A0 centre (583.5396, 61.087) radius 3.3782
  line L0 (0, 71.374) -> (812.8, 71.374) projected
  line L1 (812.8, 71.374) -> (812.8, 0) projected
  point P0 (812.8, -3.175)
  dimension "d67" = 6.7564
  dimension "d68" = 10.287
  dimension "d69" = 229.2604
extrude "Extrusion10" cut sketch "Sketch10" against normal blind 3.302
pattern_linear "Rectangular Pattern6" count 2 spacing 354.2792 along (-1, 0, 0) of "Extrusion10"
sketch "Sketch11" plane through (-812.8, -22.225, 3.175) normal (0, -1, 0) x (1, 0, 0)
  circle A0 centre (86.3346, 19.685) radius 4.826
  line L0 (812.8, 0) -> (0, 0) projected
  line L1 (0, 0) -> (0, 71.374) projected
  point P0 (812.8, -3.175)
  dimension "d75" = 9.652
  dimension "d76" = 19.685
  dimension "d77" = 86.3346
extrude "Extrusion11" cut sketch "Sketch11" against normal blind 3.302
pattern_linear "Rectangular Pattern7" count 2 spacing 25.019 along (1, 0, 0) of "Extrusion11"
pattern_linear "Rectangular Pattern8" count 2 spacing 47.5234 along (1, 0, 0) of "Extrusion11"
sketch "Sketch12" plane through (-812.8, -22.225, 3.175) normal (0, -1, 0) x (1, 0, 0)
  circle A0 centre (183.8452, 17.907) radius 4.826
  line L0 (812.8, 0) -> (0, 0) projected
  line L1 (0, 0) -> (0, 71.374) projected
  point P0 (812.8, -3.175)
  dimension "d86" = 9.652
  dimension "d87" = 17.907
  dimension "d88" = 183.8452
extrude "Extrusion12" cut sketch "Sketch12" against normal blind 3.302
pattern_linear "Rectangular Pattern9" count 2 spacing 27.5082 along (1, 0, 0) of "Extrusion12"
pattern_linear "Rectangular Pattern10" count 2 spacing 60.0202 along (1, 0, 0) of "Extrusion12"
sketch "Sketch13" plane through (-812.8, -22.225, 3.175) normal (0, -1, 0) x (1, 0, 0)
  circle A0 centre (726.4654, 19.685) radius 4.826
  line L0 (812.8, 71.374) -> (812.8, 0) projected
  line L1 (812.8, 0) -> (0, 0) projected
  point P0 (812.8, -3.175)
  dimension "d97" = 9.652
  dimension "d98" = 86.3346
  dimension "d99" = 19.685
extrude "Extrusion13" cut sketch "Sketch13" against normal blind 3.302
pattern_linear "Rectangular Pattern11" count 2 spacing 25.019 along (-1, 0, 0) of "Extrusion13"
pattern_linear "Rectangular Pattern12" count 2 spacing 47.5234 along (-1, 0, 0) of "Extrusion13"
sketch "Sketch14" plane through (-812.8, -22.225, 3.175) normal (0, -1, 0) x (1, 0, 0)
  circle A0 centre (628.9548, 17.907) radius 4.826
  line L0 (812.8, 71.374) -> (812.8, 0) projected
  line L1 (812.8, 0) -> (0, 0) projected
  point P0 (812.8, -3.175)
  dimension "d108" = 9.652
  dimension "d109" = 183.8452
  dimension "d110" = 17.907
extrude "Extrusion14" cut sketch "Sketch14" against normal blind 3.302
pattern_linear "Rectangular Pattern13" count 2 spacing 27.5082 along (-1, 0, 0) of "Extrusion14"
pattern_linear "Rectangular Pattern14" count 2 spacing 60.0202 along (-1, 0, 0) of "Extrusion14"
properties part number "AM14U4_Plate"
